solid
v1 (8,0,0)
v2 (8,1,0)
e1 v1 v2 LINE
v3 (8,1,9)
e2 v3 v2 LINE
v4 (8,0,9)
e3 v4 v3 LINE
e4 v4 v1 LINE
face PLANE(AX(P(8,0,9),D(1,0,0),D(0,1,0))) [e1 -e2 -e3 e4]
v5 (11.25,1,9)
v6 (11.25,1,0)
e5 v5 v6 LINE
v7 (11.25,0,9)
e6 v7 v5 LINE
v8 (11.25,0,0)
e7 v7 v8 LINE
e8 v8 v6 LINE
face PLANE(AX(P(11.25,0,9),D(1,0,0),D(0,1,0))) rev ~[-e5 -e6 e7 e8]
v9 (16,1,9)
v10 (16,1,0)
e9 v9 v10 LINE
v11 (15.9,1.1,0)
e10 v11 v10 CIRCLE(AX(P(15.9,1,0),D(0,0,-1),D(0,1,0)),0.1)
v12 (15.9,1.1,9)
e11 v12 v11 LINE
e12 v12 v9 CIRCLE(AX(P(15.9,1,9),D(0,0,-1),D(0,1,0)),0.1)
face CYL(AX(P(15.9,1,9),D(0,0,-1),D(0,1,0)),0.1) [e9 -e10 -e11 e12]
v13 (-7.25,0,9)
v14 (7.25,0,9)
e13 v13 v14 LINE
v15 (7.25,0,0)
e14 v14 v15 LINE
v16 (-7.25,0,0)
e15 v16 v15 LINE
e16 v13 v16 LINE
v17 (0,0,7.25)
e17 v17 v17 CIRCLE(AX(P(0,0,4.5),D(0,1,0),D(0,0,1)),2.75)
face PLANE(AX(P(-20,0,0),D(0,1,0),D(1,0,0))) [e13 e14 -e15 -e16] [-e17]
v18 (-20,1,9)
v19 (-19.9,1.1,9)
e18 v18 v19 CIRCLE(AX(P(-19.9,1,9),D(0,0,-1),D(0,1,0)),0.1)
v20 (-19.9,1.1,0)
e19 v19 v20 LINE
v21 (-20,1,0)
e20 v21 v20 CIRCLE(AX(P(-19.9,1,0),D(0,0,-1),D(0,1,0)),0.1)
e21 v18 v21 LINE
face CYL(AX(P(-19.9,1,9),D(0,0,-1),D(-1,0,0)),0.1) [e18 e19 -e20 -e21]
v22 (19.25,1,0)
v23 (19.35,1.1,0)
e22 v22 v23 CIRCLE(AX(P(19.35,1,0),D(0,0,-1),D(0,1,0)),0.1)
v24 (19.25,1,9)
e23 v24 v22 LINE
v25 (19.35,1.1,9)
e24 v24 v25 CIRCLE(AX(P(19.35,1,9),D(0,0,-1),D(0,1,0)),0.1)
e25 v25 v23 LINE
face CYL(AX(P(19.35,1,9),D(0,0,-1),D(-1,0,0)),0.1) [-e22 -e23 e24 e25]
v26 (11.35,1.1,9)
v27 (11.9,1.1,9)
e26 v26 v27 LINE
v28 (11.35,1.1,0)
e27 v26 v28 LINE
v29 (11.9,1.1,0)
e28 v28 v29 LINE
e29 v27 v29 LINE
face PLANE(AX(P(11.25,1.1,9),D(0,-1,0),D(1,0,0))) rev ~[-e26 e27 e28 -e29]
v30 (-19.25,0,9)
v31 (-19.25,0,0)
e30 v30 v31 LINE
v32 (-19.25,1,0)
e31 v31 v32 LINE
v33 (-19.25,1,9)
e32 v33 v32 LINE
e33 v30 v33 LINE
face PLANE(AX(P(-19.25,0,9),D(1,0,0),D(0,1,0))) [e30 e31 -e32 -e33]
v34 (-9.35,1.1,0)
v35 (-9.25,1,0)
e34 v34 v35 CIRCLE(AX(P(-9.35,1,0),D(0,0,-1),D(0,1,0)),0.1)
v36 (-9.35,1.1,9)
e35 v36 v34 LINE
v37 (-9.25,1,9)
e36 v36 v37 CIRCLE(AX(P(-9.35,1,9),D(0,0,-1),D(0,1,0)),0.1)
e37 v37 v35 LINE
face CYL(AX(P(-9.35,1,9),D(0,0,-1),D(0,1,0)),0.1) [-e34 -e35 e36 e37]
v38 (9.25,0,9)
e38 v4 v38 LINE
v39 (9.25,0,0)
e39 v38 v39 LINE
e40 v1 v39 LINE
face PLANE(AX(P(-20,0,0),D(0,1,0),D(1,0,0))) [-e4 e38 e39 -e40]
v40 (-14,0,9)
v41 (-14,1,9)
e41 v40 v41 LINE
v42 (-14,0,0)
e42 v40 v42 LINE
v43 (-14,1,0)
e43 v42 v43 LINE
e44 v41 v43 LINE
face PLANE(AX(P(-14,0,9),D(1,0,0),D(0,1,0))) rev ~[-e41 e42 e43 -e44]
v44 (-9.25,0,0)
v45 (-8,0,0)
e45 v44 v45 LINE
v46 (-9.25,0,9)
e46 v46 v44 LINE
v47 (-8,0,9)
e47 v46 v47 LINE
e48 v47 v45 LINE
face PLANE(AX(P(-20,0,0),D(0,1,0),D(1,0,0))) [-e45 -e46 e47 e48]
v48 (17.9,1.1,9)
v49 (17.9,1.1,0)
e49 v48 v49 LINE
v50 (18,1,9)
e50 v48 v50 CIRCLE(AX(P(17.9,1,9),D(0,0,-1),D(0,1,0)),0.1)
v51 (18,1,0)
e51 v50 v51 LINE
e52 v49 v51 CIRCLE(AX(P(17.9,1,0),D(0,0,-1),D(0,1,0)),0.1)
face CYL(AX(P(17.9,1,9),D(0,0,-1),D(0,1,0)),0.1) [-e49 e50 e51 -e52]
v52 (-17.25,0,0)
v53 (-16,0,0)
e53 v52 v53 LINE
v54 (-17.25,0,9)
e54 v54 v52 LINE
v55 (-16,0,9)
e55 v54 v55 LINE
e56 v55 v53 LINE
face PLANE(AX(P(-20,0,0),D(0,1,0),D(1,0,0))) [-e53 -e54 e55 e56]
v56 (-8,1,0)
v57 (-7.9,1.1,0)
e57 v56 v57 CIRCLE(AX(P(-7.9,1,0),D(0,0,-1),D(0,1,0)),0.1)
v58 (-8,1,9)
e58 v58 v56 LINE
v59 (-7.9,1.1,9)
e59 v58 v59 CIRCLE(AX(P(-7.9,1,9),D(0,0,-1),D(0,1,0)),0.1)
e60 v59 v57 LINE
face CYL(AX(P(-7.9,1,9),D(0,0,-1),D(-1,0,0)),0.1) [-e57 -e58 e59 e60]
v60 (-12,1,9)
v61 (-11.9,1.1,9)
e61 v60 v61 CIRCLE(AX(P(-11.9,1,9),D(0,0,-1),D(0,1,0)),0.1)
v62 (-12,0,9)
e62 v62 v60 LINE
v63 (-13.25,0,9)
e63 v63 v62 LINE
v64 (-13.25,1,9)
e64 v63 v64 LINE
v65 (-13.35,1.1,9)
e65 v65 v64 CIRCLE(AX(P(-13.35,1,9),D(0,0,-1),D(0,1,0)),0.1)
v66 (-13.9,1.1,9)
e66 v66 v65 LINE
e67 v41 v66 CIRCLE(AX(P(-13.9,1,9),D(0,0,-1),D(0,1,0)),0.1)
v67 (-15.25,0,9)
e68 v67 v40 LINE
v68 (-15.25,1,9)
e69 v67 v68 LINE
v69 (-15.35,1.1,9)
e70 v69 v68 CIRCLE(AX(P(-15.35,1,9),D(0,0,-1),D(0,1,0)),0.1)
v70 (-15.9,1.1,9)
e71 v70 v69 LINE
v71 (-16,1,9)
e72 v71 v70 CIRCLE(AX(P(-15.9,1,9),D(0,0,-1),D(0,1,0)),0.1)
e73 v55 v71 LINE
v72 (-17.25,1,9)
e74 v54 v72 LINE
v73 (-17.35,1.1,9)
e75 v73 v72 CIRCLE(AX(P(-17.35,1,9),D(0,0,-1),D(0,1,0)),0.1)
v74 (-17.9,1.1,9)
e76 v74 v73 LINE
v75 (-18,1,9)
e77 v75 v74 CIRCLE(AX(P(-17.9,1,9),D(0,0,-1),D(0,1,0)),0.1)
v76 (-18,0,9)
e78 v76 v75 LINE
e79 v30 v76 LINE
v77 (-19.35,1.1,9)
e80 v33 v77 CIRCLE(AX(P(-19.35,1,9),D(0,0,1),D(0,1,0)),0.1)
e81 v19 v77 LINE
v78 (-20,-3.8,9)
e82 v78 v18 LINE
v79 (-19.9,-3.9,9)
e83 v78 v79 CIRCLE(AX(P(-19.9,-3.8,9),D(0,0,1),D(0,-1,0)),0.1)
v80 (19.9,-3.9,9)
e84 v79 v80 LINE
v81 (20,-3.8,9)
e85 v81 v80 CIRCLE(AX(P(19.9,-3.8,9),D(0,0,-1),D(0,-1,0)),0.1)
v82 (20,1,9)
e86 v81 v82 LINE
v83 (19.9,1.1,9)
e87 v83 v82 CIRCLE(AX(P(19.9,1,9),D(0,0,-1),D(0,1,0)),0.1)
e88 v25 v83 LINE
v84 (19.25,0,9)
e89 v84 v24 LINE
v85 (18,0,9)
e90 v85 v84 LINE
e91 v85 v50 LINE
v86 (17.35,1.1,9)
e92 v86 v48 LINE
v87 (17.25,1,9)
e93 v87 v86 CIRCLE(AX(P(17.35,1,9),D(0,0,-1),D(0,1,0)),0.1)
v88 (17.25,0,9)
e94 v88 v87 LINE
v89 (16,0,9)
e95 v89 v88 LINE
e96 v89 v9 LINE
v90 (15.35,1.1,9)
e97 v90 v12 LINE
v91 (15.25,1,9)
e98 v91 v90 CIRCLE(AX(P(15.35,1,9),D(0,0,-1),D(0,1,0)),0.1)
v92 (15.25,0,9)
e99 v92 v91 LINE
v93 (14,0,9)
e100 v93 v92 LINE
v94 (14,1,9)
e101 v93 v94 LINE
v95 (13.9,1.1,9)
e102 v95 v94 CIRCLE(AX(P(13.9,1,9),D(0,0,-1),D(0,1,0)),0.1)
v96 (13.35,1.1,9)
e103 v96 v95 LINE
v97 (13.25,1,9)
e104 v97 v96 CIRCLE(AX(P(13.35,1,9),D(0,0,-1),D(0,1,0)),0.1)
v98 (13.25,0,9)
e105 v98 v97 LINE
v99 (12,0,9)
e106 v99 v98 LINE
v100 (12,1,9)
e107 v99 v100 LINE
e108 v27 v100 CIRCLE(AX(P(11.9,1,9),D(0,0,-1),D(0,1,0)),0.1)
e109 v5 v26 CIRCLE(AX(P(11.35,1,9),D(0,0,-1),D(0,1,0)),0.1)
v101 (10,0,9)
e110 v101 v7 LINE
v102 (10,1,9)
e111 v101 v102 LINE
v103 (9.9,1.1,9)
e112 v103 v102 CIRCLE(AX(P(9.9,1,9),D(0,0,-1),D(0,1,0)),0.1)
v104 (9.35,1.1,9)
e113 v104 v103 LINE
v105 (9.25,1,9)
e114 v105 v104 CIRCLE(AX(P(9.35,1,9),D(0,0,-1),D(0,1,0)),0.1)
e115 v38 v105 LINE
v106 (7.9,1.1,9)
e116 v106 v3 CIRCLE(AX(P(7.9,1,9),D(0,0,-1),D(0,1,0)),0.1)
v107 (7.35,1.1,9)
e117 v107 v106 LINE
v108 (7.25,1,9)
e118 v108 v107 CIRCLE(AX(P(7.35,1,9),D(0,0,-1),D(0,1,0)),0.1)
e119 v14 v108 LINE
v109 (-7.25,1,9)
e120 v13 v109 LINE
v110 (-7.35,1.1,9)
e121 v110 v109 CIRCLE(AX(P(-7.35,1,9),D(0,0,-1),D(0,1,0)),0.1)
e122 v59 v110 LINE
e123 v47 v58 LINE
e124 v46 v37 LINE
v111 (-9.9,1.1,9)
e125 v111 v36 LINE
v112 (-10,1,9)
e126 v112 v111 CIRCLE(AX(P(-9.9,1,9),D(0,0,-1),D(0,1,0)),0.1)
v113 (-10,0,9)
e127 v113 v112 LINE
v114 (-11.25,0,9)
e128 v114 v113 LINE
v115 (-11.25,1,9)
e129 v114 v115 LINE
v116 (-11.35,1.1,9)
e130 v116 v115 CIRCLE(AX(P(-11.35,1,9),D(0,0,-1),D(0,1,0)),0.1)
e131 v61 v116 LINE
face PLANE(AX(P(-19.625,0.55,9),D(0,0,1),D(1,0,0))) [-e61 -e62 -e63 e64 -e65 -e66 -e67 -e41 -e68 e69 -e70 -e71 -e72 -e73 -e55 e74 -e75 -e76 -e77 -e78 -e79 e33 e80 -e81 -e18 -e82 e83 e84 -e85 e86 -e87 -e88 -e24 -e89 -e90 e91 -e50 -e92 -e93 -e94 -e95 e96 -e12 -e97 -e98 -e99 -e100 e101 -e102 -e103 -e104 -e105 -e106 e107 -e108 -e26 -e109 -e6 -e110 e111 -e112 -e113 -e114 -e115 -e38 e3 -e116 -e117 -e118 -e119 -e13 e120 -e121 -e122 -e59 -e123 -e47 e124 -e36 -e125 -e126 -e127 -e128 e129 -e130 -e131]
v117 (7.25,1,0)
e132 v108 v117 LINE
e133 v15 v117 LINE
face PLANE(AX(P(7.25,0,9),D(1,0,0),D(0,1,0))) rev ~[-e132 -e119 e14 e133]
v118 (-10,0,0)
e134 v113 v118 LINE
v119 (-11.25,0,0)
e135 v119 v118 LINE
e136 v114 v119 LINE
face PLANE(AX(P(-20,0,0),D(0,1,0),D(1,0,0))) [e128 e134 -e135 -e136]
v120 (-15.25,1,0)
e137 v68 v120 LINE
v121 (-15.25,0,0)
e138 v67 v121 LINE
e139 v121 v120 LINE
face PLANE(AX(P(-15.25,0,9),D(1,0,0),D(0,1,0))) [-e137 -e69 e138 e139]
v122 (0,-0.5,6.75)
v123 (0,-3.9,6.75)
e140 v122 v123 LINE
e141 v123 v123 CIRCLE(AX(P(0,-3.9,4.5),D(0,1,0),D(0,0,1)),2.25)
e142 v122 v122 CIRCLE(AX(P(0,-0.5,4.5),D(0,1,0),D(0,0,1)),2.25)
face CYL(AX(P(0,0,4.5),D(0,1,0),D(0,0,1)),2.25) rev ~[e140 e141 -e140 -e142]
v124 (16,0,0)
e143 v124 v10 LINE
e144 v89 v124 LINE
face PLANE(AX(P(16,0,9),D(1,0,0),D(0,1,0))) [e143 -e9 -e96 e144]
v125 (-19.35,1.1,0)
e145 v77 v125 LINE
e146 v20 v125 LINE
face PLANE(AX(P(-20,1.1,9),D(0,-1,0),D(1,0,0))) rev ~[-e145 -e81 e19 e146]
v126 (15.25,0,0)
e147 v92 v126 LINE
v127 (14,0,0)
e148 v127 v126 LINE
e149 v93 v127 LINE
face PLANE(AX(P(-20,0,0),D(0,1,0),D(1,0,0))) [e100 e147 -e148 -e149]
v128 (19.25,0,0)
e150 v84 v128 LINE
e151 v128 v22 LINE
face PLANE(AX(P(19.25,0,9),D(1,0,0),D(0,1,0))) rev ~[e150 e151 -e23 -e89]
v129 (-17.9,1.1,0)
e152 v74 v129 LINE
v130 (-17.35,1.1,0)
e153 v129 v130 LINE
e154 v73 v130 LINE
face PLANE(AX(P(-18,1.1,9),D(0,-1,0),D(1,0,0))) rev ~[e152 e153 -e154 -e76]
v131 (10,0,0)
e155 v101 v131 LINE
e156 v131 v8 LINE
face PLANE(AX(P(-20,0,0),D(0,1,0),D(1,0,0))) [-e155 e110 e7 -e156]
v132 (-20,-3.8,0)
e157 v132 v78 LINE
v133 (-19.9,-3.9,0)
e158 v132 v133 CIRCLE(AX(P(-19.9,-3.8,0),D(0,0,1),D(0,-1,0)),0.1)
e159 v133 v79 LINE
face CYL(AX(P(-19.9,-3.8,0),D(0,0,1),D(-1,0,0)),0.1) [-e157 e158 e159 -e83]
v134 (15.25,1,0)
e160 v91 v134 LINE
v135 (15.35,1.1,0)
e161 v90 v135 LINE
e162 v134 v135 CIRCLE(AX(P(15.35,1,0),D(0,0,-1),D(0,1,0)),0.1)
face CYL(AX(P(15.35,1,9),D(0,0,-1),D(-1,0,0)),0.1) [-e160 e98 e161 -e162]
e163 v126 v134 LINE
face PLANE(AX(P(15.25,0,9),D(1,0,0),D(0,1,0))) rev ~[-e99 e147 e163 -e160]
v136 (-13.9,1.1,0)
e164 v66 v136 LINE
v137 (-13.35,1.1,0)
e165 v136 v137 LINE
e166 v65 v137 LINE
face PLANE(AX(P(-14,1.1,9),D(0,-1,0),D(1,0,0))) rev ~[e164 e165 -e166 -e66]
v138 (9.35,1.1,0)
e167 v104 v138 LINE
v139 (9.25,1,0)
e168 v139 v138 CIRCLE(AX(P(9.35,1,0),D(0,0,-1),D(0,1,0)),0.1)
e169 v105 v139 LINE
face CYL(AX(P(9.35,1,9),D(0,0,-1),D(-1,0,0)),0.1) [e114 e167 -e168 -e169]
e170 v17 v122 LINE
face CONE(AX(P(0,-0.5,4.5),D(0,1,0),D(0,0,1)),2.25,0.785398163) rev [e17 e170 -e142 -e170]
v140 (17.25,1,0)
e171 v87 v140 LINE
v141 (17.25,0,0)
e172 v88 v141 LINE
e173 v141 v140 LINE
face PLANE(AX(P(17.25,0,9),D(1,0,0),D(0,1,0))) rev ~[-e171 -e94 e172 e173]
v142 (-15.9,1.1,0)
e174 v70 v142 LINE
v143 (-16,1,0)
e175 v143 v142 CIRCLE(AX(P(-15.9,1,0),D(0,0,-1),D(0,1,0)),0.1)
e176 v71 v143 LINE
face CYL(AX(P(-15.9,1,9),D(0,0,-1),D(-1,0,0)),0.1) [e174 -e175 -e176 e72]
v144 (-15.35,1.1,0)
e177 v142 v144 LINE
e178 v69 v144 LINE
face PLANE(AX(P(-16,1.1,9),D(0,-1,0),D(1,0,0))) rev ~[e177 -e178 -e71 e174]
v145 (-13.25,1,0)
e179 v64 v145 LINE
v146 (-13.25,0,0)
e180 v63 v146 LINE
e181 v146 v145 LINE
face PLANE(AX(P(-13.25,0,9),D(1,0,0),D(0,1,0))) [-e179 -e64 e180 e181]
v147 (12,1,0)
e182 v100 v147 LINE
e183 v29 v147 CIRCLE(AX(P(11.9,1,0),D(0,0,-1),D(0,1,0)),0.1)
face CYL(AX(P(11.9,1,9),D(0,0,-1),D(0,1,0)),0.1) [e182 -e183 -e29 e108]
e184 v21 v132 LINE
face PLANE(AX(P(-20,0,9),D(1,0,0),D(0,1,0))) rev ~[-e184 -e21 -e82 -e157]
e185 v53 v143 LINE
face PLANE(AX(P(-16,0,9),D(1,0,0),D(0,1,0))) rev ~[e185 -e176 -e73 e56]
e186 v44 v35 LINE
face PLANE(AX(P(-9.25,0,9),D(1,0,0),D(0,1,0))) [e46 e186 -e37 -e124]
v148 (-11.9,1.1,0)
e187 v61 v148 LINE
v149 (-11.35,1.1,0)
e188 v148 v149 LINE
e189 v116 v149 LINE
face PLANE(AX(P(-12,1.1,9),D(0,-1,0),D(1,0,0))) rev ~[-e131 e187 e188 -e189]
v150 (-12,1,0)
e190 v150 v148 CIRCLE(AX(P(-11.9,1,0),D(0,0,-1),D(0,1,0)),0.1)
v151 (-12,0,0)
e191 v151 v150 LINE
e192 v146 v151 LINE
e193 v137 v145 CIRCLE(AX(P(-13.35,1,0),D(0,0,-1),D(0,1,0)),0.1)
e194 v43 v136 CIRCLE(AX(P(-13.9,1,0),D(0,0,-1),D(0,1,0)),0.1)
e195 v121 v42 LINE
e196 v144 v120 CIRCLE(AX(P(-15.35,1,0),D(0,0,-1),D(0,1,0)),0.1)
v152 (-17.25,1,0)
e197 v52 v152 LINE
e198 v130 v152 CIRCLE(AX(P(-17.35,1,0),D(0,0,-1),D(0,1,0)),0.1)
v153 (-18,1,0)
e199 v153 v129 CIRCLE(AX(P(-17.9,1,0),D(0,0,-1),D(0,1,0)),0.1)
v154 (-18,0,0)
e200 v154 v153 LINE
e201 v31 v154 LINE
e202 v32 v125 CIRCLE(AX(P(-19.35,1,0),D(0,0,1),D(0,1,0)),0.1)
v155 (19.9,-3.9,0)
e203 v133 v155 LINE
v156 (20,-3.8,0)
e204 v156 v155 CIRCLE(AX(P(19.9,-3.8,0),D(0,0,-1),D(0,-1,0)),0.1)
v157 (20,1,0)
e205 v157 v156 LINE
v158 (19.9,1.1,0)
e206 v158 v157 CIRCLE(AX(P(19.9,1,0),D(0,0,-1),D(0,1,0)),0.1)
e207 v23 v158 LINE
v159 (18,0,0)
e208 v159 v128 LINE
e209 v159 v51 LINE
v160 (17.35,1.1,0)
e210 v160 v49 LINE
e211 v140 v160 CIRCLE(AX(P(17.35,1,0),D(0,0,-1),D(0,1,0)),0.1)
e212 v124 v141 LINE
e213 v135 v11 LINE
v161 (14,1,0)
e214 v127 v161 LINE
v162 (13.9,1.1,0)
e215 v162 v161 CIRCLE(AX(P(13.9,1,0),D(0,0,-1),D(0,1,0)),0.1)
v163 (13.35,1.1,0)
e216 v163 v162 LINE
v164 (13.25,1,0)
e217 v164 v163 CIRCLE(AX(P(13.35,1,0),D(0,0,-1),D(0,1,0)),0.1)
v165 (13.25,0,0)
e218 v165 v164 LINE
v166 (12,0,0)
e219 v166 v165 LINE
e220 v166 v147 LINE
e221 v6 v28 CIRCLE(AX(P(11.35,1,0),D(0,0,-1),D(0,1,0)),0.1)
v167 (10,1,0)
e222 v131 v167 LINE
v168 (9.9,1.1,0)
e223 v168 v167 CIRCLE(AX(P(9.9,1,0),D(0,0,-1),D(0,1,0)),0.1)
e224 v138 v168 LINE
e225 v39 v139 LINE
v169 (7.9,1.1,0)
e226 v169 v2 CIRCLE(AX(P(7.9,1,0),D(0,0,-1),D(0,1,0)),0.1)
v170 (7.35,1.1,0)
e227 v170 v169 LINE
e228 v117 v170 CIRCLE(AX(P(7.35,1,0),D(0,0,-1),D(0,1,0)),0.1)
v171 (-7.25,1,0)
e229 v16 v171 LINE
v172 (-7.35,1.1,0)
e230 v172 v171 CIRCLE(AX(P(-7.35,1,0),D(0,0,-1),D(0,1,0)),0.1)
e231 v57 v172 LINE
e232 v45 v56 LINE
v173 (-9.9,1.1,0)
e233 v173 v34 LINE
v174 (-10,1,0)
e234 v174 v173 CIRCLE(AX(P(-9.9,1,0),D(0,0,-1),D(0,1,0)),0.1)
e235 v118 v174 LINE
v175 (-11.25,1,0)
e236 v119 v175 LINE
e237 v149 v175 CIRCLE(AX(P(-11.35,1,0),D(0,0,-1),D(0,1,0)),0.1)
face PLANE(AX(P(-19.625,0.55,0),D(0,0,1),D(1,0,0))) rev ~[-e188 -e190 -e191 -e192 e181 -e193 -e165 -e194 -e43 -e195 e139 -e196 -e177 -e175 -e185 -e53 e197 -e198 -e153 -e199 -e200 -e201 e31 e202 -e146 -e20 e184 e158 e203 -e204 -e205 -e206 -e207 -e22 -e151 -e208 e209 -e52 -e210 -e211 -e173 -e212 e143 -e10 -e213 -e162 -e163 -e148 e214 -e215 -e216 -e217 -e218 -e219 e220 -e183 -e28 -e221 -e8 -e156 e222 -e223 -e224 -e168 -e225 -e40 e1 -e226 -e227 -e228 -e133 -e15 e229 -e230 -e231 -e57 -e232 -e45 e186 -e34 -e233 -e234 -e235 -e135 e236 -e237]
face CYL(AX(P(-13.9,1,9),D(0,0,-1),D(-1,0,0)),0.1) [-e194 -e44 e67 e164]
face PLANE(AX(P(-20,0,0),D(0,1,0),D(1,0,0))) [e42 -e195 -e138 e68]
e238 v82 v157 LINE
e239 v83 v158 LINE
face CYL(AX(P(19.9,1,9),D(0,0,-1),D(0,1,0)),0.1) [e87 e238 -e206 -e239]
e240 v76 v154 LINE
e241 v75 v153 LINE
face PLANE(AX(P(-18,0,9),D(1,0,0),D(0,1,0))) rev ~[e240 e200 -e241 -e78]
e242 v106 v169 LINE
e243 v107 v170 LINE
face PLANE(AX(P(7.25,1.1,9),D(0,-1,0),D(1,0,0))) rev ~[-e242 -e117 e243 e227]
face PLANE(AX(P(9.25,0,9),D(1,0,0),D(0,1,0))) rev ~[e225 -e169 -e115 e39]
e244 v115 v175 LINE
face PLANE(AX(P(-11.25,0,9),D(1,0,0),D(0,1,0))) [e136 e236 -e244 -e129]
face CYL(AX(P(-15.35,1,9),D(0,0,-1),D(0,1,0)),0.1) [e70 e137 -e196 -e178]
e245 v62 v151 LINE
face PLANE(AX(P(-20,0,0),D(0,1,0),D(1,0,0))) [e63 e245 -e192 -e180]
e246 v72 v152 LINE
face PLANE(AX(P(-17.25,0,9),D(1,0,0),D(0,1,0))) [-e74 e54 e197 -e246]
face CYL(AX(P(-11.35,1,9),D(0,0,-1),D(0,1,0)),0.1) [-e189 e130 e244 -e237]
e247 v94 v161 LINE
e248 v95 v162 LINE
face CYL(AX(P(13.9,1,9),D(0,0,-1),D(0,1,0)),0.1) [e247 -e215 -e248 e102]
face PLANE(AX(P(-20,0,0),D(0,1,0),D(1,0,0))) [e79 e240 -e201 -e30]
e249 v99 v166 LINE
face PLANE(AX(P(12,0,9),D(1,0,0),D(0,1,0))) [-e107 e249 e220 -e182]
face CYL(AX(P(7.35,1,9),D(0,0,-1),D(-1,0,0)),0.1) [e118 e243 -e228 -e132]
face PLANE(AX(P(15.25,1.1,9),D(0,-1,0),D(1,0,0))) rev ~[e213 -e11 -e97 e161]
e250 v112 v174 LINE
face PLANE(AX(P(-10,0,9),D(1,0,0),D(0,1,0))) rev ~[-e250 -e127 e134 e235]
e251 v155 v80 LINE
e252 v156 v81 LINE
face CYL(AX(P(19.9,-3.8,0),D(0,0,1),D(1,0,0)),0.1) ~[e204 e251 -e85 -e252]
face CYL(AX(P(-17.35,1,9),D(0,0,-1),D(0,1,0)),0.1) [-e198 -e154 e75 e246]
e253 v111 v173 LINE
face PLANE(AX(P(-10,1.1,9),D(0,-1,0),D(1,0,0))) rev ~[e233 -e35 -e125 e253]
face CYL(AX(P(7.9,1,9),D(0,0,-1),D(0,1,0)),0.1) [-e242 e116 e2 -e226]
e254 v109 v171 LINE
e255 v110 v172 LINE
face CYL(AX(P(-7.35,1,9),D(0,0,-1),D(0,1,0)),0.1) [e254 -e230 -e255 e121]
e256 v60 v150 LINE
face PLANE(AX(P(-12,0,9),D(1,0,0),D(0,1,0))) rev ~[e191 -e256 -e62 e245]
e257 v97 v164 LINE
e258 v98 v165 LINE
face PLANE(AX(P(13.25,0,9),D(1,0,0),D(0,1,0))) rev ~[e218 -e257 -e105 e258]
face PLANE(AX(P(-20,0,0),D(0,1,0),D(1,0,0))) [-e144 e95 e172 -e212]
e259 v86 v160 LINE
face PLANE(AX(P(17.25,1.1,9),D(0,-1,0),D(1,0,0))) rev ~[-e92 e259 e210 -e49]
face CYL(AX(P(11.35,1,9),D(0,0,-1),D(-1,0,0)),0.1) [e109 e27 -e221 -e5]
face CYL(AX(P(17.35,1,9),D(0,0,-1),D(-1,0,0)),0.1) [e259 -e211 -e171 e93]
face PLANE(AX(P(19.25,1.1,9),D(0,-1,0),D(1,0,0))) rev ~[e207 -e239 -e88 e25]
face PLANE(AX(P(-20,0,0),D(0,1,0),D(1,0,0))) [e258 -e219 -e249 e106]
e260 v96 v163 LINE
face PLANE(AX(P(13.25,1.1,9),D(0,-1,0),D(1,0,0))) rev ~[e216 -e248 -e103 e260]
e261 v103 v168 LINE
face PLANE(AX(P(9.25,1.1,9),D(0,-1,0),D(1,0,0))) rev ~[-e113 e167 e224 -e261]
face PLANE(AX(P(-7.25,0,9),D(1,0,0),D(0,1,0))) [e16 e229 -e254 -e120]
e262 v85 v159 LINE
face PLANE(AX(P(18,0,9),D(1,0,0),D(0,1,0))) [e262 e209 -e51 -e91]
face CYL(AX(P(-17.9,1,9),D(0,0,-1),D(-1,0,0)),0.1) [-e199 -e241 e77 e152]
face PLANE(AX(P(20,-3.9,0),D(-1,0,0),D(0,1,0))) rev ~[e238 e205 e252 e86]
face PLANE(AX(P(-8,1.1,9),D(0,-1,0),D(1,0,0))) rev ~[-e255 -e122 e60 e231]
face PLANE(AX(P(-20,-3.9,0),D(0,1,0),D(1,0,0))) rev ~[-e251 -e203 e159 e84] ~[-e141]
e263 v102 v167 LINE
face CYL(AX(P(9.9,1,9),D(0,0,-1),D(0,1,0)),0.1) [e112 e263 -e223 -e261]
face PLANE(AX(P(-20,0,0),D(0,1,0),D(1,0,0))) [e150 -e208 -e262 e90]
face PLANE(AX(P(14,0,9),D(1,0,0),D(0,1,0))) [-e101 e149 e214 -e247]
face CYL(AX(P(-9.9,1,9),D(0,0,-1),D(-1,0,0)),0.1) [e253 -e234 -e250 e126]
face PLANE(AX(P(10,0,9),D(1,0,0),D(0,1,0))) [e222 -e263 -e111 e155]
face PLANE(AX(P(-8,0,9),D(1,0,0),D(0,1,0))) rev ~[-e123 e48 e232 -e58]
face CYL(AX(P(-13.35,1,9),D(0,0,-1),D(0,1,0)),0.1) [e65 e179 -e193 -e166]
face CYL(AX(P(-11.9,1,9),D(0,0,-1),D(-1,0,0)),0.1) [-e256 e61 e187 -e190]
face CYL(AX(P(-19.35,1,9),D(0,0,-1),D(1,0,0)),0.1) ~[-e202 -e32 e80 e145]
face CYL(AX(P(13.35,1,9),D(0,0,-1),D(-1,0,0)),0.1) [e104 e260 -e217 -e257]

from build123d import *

# Parameters (mm, degrees)
SKETCH1_W           = 40
SKETCH1_H           = 3.9
BOSS_EXTRUDE1_DEPTH = 9
CUT_EXTRUDE1_REACH  = 24.276
SKETCH2_R           = 2.25
SKETCH3_W           = 0.75
SKETCH3_H           = 1.1
BOSS_EXTRUDE2_DEPTH = 9
FILLET1_R           = 0.1
CHAMFER1_SIZE       = 0.5


with BuildPart() as part:
    # Sketch1 → Boss-Extrude1 (new body)
    with BuildSketch(Plane.XY):
        with Locations((0, -1.95)):
            Rectangle(SKETCH1_W, SKETCH1_H)
    extrude(amount=BOSS_EXTRUDE1_DEPTH)

    # Sketch2 → Cut-Extrude1 (cut, up to next)
    with BuildSketch(Plane(origin=(0, 0, 0), x_dir=(1, 0, 0), z_dir=(0, 1, 0)), mode=Mode.PRIVATE) as cut_extrude1_sk1:
        with Locations(Location((0, -4.5, 0), (0, 0, 270))):
            Circle(SKETCH2_R)
    cut_extrude1_tool1 = extrude(cut_extrude1_sk1.sketch, amount=-CUT_EXTRUDE1_REACH, mode=Mode.PRIVATE) & part.part
    add(cut_extrude1_tool1.solids().sort_by_distance((0, 0, 4.5))[0], mode=Mode.SUBTRACT)

    # Sketch3 → Boss-Extrude2 (add)
    with BuildSketch(Plane.XY.offset(9)):
        with Locations((-17.625, 0.55)):
            Rectangle(SKETCH3_W, SKETCH3_H)
        with Locations((-19.625, 0.55)):
            Rectangle(SKETCH3_W, SKETCH3_H)
        with Locations((-15.625, 0.55)):
            Rectangle(SKETCH3_W, SKETCH3_H)
        with Locations((-13.625, 0.55)):
            Rectangle(SKETCH3_W, SKETCH3_H)
        with Locations((-11.625, 0.55)):
            Rectangle(SKETCH3_W, SKETCH3_H)
        with Locations((-9.625, 0.55)):
            Rectangle(SKETCH3_W, SKETCH3_H)
        with Locations((-7.625, 0.55)):
            Rectangle(SKETCH3_W, SKETCH3_H)
        with Locations((7.625, 0.55)):
            Rectangle(SKETCH3_W, SKETCH3_H)
        with Locations((9.625, 0.55)):
            Rectangle(SKETCH3_W, SKETCH3_H)
        with Locations((11.625, 0.55)):
            Rectangle(SKETCH3_W, SKETCH3_H)
        with Locations((13.625, 0.55)):
            Rectangle(SKETCH3_W, SKETCH3_H)
        with Locations((15.625, 0.55)):
            Rectangle(SKETCH3_W, SKETCH3_H)
        with Locations((17.625, 0.55)):
            Rectangle(SKETCH3_W, SKETCH3_H)
        with Locations((19.625, 0.55)):
            Rectangle(SKETCH3_W, SKETCH3_H)
    extrude(amount=-BOSS_EXTRUDE2_DEPTH)

    # Fillet1
    fillet1_edges = [part.edges().sort_by_distance(p)[0] for p in [
        (9.25, 1.1, 4.5),
        (10, 1.1, 4.5),
        (11.25, 1.1, 4.5),
        (12, 1.1, 4.5),
        (13.25, 1.1, 4.5),
        (14, 1.1, 4.5),
        (15.25, 1.1, 4.5),
        (16, 1.1, 4.5),
        (17.25, 1.1, 4.5),
        (18, 1.1, 4.5),
        (19.25, 1.1, 4.5),
        (20, 1.1, 4.5),
        (-20, 1.1, 4.5),
        (-19.25, 1.1, 4.5),
        (-18, 1.1, 4.5),
        (-17.25, 1.1, 4.5),
        (-16, 1.1, 4.5),
        (-15.25, 1.1, 4.5),
        (-14, 1.1, 4.5),
        (-13.25, 1.1, 4.5),
        (-12, 1.1, 4.5),
        (-11.25, 1.1, 4.5),
        (-10, 1.1, 4.5),
        (-9.25, 1.1, 4.5),
        (20, -3.9, 4.5),
        (-20, -3.9, 4.5),
        (-8, 1.1, 4.5),
        (-7.25, 1.1, 4.5),
        (7.25, 1.1, 4.5),
        (8, 1.1, 4.5),
    ]]
    fillet(fillet1_edges, radius=FILLET1_R)

    # Chamfer1
    chamfer1_edges = [part.edges().sort_by_distance(p)[0] for p in [
        (0, 0, 2.25),
    ]]
    chamfer(chamfer1_edges, length=CHAMFER1_SIZE)


solid = part.part
